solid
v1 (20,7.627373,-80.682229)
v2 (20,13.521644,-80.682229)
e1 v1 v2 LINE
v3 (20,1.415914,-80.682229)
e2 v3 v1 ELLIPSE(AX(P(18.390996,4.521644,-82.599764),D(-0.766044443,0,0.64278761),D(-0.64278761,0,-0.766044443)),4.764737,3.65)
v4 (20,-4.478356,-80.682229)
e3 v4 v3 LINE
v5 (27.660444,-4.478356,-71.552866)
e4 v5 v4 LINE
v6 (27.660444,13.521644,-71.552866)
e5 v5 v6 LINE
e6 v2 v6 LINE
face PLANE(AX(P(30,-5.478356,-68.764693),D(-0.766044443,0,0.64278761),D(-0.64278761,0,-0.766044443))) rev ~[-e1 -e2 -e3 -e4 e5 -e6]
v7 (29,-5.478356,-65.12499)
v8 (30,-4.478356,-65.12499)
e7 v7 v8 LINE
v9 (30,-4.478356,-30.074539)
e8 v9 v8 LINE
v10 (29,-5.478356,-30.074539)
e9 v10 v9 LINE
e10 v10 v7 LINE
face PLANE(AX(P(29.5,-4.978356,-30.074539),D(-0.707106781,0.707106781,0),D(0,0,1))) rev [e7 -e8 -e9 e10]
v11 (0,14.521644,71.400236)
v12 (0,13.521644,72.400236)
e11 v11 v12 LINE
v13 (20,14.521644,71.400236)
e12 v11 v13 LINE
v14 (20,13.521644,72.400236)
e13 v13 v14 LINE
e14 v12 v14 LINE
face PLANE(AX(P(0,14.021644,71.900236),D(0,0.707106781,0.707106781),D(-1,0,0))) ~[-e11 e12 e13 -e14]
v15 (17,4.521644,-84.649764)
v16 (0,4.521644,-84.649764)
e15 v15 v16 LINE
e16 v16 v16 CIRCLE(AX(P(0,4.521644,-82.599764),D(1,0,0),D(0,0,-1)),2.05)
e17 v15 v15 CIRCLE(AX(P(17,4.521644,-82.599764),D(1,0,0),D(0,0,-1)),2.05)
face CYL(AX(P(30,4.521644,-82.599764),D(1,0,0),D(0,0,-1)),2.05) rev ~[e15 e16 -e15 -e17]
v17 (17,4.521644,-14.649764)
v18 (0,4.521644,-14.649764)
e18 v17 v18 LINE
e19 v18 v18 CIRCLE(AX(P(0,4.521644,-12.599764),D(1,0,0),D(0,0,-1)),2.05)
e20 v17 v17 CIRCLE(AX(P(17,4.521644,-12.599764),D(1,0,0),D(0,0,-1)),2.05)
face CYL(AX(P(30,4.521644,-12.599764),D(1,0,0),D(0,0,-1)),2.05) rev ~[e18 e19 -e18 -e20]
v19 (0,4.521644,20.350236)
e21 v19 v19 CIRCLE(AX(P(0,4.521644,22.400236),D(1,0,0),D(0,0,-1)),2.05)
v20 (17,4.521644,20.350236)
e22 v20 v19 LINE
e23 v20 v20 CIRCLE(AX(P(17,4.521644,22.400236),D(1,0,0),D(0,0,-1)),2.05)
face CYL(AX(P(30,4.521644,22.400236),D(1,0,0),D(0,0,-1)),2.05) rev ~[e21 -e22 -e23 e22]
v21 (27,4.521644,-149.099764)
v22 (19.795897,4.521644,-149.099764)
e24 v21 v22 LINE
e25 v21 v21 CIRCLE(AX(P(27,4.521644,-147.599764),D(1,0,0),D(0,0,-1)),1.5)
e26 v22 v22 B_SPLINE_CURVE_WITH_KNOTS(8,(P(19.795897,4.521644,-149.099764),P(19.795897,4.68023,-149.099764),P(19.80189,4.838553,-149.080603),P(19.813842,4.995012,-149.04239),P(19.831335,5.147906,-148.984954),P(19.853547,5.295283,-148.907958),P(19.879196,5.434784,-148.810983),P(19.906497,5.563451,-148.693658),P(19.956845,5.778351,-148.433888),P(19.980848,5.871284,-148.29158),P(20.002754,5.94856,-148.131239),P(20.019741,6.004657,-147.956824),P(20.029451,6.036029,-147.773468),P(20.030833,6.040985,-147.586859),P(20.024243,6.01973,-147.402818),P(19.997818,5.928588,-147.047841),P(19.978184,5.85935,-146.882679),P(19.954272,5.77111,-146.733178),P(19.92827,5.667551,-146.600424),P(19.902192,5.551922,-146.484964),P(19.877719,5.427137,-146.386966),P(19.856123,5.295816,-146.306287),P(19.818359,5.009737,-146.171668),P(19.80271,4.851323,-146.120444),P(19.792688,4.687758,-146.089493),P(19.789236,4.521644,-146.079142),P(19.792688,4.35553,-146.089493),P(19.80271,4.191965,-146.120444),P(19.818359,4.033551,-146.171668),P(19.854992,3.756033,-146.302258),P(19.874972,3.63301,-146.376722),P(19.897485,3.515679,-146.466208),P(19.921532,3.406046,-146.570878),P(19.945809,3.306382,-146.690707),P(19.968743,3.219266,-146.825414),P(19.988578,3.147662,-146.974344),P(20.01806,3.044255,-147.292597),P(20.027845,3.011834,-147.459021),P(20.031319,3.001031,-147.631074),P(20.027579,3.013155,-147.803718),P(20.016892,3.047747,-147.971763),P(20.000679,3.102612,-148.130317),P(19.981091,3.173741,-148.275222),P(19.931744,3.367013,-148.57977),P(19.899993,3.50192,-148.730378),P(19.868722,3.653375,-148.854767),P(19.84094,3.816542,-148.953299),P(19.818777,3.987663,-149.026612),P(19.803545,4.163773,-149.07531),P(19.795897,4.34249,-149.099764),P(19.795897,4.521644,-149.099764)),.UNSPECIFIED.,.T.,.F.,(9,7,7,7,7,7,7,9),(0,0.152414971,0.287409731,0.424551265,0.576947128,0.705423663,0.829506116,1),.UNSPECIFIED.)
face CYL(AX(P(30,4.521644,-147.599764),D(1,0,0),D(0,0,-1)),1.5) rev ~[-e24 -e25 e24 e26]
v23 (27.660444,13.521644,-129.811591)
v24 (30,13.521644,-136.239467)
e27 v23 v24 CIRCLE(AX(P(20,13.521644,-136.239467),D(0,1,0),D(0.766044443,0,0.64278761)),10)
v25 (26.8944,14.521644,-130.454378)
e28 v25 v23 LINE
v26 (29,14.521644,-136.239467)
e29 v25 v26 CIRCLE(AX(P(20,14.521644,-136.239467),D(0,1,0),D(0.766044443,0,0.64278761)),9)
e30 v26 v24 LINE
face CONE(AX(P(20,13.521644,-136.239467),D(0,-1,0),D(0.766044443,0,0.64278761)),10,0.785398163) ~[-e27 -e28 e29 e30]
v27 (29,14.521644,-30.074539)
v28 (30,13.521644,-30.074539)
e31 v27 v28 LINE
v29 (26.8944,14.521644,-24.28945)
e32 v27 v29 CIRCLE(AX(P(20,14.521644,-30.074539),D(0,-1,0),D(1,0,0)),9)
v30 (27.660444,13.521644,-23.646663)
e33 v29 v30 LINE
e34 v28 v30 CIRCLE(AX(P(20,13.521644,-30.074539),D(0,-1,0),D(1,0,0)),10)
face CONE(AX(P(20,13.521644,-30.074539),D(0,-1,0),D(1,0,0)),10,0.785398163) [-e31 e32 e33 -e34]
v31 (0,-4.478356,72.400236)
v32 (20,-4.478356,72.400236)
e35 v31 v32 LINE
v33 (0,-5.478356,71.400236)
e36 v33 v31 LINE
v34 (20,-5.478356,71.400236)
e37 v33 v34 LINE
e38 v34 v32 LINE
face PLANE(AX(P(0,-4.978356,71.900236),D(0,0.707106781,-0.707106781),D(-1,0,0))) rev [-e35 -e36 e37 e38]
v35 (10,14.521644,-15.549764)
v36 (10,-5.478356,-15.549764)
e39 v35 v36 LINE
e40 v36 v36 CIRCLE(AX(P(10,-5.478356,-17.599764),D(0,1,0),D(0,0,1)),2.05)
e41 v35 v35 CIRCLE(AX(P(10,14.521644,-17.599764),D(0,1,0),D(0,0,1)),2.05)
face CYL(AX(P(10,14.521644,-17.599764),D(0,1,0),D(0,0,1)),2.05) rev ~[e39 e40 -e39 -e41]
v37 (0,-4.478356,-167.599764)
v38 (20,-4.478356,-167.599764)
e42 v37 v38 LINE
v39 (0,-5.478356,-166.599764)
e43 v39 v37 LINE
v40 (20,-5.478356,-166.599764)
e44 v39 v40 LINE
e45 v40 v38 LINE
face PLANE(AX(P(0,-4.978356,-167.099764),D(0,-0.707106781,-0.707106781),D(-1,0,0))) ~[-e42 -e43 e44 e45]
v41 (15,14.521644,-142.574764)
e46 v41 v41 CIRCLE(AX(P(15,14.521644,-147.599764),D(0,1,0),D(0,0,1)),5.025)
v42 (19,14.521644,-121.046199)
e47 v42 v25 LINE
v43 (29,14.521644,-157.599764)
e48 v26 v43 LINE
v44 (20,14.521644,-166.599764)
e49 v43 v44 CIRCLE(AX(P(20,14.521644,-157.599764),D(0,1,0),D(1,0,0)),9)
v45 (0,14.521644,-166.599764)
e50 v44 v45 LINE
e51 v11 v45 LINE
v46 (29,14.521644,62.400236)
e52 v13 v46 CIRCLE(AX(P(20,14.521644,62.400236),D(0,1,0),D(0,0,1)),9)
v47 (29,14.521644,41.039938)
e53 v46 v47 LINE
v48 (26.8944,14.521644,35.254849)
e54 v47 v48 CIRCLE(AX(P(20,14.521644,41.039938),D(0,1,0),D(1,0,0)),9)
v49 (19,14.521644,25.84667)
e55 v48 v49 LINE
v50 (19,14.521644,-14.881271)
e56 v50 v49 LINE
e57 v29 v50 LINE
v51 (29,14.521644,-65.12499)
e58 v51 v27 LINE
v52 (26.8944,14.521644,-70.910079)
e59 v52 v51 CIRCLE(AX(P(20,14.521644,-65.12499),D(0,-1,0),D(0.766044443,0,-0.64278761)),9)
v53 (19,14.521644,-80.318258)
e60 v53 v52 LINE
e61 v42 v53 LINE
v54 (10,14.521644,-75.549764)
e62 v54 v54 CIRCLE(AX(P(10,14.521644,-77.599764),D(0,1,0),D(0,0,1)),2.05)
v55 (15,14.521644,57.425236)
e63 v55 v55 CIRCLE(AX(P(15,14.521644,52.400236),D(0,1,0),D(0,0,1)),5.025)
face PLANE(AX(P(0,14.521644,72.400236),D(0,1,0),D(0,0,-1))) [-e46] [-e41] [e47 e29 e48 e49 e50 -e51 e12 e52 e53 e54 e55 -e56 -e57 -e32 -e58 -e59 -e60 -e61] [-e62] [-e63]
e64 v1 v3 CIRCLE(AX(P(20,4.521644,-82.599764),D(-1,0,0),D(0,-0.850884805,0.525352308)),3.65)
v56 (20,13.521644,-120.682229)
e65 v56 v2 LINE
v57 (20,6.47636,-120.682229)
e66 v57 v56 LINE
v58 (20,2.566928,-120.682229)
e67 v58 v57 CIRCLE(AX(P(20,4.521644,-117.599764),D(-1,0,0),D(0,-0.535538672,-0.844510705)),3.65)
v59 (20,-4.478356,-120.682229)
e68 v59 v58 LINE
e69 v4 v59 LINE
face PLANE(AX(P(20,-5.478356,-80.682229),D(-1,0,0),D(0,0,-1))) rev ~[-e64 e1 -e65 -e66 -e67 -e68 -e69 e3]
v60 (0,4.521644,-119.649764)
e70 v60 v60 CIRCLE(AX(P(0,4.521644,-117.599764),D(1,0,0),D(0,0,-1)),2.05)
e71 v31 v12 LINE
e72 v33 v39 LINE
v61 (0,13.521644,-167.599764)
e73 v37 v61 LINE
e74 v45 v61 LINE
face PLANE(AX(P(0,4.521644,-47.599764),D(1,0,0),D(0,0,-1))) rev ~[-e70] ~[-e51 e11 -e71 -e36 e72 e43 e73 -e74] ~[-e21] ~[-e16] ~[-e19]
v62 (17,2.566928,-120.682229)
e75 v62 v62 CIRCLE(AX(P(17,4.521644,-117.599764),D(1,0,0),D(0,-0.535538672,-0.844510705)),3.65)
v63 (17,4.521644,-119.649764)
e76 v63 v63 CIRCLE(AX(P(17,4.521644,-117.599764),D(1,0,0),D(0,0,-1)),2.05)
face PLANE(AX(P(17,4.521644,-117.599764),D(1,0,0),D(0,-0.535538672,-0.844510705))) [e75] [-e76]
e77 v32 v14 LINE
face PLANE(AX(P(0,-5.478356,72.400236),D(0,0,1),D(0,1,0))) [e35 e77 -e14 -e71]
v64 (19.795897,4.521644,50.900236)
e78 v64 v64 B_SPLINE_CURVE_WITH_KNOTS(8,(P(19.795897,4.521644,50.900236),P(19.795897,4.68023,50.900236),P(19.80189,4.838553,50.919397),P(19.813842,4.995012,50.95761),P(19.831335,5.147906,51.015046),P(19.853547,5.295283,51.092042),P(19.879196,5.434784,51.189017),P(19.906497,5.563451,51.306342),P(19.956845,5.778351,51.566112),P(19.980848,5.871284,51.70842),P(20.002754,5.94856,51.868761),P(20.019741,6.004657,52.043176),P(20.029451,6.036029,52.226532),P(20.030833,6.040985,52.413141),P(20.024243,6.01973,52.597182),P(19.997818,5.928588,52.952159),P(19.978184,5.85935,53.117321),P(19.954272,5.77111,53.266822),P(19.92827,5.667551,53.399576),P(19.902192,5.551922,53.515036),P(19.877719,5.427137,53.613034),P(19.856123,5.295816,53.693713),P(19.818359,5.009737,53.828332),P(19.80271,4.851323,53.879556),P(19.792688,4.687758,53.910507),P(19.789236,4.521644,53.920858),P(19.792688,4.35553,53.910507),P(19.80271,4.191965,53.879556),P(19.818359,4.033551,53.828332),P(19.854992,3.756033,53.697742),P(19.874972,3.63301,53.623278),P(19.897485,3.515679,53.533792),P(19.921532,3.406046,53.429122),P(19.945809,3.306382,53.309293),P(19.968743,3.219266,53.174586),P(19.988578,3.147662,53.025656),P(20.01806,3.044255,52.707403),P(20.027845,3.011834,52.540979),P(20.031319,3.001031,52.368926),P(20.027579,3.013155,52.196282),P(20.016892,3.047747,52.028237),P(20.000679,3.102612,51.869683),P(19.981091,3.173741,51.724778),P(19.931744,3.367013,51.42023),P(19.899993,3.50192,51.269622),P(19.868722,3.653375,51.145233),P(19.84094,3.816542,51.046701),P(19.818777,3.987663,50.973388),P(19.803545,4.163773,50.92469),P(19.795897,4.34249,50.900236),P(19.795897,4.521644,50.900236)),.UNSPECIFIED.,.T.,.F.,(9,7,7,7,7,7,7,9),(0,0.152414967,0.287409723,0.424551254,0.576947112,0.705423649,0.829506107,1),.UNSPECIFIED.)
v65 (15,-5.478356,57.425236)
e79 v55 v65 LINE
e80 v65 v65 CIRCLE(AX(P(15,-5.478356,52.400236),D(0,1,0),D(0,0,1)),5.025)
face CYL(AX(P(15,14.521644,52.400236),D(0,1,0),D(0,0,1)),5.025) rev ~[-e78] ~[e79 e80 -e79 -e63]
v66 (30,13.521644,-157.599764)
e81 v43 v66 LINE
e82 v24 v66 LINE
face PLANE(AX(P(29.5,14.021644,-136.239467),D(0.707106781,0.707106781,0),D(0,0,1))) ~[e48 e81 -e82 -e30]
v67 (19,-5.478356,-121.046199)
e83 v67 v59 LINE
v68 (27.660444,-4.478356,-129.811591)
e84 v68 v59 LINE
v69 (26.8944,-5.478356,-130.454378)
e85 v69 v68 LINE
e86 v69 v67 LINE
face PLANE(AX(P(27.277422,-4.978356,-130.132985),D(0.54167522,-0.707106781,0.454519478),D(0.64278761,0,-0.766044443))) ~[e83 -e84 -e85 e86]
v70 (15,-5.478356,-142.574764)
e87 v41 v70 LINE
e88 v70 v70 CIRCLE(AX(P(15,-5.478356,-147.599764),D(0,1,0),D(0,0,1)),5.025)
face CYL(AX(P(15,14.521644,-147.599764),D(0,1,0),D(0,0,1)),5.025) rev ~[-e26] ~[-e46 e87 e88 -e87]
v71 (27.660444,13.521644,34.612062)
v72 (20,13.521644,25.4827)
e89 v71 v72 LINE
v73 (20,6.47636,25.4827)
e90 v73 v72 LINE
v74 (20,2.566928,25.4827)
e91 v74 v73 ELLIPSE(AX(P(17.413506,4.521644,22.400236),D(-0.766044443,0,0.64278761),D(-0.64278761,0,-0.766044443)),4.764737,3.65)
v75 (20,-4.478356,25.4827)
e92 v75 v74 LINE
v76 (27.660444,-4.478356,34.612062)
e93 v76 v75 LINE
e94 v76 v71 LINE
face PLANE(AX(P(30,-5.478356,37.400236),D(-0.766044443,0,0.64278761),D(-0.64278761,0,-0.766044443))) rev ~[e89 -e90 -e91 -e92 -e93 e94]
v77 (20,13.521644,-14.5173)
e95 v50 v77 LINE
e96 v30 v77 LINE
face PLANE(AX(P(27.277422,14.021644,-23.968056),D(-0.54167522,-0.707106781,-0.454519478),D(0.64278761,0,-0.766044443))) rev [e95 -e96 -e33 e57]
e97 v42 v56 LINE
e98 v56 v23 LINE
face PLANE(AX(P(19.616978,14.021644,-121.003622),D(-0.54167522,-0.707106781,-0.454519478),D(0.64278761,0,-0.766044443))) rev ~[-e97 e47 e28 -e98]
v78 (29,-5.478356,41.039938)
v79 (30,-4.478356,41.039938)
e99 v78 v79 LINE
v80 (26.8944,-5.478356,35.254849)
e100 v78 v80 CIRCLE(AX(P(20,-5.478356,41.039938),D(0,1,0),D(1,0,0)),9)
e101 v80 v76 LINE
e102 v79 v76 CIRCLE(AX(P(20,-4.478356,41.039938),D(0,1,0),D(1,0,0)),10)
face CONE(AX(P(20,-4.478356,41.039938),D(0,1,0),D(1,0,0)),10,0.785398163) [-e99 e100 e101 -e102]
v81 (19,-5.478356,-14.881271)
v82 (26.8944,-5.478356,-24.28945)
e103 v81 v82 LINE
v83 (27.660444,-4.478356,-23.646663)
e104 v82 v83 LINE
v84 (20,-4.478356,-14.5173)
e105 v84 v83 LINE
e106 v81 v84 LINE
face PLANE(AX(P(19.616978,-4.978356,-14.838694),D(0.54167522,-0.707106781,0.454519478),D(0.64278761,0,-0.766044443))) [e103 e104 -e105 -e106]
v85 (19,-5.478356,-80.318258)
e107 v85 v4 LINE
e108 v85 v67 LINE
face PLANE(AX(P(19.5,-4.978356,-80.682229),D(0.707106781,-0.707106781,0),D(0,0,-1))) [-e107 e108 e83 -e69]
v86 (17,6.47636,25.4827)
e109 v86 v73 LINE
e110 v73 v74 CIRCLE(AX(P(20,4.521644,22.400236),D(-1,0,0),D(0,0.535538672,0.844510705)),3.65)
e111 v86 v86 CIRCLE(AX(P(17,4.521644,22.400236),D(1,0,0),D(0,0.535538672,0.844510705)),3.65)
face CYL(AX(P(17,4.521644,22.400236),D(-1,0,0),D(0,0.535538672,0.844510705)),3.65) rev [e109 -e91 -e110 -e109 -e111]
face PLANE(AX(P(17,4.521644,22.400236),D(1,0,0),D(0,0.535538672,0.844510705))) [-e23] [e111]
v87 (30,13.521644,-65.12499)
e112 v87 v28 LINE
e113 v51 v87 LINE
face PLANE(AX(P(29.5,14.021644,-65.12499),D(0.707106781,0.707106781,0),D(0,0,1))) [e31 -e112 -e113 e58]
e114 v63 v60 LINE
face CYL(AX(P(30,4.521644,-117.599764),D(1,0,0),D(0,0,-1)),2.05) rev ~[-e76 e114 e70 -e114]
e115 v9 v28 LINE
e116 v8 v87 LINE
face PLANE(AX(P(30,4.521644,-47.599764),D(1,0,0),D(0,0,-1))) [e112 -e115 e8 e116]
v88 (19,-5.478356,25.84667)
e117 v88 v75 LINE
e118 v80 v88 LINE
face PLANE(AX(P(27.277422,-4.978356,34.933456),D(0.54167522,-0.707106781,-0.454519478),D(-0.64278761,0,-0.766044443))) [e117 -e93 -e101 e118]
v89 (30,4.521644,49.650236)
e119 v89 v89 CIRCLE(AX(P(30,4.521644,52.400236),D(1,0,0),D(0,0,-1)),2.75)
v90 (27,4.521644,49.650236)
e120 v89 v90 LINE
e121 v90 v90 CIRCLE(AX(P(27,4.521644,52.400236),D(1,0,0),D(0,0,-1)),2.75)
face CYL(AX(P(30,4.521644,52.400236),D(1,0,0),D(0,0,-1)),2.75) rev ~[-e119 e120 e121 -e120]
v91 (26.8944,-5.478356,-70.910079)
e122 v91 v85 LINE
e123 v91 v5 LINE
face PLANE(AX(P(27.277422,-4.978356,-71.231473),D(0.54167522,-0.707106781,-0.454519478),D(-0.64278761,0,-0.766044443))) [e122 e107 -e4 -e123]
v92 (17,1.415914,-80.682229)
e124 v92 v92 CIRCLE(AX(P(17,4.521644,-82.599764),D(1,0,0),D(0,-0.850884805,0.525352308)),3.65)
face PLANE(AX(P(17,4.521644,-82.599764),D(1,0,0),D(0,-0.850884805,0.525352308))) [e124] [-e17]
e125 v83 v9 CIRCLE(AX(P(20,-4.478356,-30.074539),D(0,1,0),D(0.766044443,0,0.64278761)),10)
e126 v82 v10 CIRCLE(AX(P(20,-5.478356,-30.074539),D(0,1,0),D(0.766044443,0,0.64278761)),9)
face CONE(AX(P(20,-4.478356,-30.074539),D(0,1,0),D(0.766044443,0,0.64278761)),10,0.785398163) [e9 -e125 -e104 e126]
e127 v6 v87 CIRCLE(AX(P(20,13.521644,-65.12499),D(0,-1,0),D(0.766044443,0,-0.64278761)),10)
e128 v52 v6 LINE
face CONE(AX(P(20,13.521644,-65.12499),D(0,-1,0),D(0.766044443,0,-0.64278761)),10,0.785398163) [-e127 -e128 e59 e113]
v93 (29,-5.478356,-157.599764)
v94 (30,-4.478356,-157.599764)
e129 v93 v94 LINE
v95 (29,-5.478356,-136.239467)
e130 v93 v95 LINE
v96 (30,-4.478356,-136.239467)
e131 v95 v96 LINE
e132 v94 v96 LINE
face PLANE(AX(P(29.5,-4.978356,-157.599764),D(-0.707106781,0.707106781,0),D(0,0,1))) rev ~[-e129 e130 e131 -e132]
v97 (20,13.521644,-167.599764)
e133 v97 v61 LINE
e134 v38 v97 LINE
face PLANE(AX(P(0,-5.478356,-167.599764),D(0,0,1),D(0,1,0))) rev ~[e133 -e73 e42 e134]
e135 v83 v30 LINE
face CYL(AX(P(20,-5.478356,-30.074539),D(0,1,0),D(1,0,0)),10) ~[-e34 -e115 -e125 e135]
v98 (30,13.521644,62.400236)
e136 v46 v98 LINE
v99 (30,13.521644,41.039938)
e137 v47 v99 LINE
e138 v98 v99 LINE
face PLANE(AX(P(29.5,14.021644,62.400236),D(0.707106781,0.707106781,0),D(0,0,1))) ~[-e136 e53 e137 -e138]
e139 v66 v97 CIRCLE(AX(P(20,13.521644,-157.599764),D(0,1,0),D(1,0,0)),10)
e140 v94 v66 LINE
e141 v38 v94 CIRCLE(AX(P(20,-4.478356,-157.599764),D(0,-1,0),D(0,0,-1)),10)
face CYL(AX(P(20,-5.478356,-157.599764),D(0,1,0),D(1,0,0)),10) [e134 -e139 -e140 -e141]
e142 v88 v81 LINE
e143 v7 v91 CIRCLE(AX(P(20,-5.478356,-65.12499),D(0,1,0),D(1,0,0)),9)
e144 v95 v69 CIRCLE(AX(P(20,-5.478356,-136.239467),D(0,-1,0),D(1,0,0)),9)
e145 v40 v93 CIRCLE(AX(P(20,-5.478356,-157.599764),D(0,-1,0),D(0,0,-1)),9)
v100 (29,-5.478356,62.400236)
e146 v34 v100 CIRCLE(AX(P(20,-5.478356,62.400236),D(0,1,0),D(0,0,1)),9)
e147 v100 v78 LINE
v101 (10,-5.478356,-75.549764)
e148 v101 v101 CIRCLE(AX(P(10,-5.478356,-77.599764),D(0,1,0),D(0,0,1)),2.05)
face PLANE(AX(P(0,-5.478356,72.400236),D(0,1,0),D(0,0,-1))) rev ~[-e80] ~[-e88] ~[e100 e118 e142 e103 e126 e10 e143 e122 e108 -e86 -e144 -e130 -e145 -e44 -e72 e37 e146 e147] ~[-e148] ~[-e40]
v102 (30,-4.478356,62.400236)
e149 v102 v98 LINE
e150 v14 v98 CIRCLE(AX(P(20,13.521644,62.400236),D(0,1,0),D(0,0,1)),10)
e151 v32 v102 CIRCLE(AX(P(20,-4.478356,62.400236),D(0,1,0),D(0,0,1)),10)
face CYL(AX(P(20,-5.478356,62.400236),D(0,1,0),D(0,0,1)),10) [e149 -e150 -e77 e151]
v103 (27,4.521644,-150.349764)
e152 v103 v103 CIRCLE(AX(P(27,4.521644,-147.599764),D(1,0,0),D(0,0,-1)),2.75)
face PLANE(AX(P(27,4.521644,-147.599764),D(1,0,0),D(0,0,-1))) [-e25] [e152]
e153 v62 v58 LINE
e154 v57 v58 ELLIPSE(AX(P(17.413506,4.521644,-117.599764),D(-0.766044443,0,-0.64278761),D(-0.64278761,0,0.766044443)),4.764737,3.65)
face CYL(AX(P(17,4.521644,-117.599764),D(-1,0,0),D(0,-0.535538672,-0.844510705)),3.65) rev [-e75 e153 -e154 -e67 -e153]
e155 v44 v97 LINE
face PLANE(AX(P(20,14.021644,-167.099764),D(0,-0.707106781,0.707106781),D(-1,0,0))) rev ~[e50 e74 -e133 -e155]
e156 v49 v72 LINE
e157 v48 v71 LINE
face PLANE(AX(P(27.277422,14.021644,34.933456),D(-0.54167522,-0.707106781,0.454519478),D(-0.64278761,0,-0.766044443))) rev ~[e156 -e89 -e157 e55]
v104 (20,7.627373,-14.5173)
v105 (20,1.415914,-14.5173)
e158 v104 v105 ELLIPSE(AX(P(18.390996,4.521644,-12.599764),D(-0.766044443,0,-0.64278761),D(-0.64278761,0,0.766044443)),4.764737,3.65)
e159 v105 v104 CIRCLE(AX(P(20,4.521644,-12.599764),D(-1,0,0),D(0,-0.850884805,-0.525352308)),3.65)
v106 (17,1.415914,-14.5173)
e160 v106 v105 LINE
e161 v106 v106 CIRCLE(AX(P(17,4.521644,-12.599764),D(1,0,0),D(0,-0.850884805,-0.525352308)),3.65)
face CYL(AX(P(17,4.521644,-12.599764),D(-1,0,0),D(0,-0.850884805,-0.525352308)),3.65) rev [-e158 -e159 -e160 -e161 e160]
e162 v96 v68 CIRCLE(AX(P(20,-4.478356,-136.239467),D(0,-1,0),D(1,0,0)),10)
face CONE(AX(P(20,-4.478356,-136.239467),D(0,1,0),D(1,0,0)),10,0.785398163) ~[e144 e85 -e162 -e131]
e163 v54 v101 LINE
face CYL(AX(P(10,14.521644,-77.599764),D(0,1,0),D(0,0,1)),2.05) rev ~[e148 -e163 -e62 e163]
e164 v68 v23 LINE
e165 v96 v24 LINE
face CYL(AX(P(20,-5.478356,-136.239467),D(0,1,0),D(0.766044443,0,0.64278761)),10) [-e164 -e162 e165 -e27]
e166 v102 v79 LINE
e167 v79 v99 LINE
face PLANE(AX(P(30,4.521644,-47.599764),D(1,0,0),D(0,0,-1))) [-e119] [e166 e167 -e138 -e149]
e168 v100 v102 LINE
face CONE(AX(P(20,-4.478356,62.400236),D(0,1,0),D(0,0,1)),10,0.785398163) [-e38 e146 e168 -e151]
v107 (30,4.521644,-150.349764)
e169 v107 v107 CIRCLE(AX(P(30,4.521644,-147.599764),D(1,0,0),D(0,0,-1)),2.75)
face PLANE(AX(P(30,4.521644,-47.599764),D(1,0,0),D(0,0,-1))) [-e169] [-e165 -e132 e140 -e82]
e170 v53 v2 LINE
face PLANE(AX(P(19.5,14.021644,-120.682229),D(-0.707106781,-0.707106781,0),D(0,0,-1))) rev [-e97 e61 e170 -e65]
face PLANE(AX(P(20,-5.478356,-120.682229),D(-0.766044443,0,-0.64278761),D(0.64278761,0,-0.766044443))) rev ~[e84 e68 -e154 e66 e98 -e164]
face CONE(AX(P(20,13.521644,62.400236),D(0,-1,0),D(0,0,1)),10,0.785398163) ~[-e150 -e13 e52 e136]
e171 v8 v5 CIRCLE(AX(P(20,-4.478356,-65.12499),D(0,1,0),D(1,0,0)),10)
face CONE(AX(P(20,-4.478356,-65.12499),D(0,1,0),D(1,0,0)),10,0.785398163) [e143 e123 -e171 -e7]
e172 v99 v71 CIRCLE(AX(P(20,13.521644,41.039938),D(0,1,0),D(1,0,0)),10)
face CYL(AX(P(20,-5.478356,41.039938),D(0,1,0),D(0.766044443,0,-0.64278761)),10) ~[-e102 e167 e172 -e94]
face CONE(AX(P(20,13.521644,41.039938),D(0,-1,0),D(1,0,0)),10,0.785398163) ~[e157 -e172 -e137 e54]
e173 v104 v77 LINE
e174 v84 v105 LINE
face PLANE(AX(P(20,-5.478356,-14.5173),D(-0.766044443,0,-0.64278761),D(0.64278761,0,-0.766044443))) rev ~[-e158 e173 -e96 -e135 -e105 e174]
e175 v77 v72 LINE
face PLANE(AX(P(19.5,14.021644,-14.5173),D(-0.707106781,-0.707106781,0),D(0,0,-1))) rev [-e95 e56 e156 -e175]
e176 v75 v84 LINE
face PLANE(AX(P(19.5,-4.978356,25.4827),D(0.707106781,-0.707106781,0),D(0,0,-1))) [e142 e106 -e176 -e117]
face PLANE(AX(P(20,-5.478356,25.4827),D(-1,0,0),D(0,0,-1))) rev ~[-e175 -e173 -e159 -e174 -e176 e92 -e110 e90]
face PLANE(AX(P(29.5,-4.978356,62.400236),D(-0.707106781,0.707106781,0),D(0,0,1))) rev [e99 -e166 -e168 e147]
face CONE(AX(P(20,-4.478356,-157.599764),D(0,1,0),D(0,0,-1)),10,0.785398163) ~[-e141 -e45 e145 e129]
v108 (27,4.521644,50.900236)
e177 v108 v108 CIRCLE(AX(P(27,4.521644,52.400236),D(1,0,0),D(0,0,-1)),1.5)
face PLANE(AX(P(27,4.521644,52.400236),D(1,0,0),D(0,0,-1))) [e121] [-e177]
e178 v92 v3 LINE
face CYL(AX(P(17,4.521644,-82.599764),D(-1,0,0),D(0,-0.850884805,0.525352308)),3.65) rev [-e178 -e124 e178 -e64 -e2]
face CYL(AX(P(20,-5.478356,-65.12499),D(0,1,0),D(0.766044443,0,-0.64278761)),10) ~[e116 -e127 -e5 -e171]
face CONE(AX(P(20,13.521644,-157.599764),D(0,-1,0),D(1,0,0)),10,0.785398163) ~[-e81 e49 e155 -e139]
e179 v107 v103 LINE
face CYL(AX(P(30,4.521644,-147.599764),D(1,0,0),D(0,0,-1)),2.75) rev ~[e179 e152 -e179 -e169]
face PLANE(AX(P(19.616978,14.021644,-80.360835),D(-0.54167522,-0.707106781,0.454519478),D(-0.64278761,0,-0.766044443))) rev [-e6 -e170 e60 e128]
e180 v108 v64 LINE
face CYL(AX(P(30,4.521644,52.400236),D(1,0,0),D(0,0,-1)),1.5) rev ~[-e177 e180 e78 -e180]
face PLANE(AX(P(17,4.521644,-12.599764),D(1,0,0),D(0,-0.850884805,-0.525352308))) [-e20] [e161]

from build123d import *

# Parameters (mm, degrees)
SKETCH1_W               = 240
SKETCH1_H               = 20
BOSS_EXTRUDE1_DEPTH     = 30
SKETCH2_R               = 5.025
CUT_EXTRUDE1_DEPTH      = 20
SKETCH3_R               = 2.05
CUT_EXTRUDE2_DEPTH      = 30
CUT_EXTRUDE5_DEPTH      = 32.5
FILLET1_R               = 10
FILLET2_R               = 10
CHAMFER1_SIZE           = 1
CHAMFER2_SIZE           = 1
CUT_EXTRUDE9_DEPTH      = 3
CUT_EXTRUDE9_DEPTH_BACK = 3
SKETCH10_R              = 3.65
SKETCH11_R              = 1.5
CUT_EXTRUDE10_DEPTH     = 13
SKETCH12_R              = 2.75
SKETCH12_R_2            = 1.5
CUT_EXTRUDE11_DEPTH     = 3
SKETCH16_R              = 2.05
CUT_EXTRUDE12_DEPTH     = 40


with BuildPart() as part:
    # Sketch1 → Boss-Extrude1 (new body)
    with BuildSketch(Plane(origin=(0, 0, 0), x_dir=(0, 0, -1), z_dir=(1, 0, 0))):
        with Locations((47.599764496, 4.521643901)):
            Rectangle(SKETCH1_W, SKETCH1_H)
    extrude(amount=BOSS_EXTRUDE1_DEPTH)

    # Sketch2 → Cut-Extrude1 (cut)
    with BuildSketch(Plane(origin=(0, 14.521643901, 0), x_dir=(1, 0, 0), z_dir=(0, 1, 0))):
        with Locations(Location((15, 147.599764496, 0), (0, 0, 270))):
            Circle(SKETCH2_R)
        with Locations(Location((15, -52.400235504, 0), (0, 0, 270))):
            Circle(SKETCH2_R)
    extrude(amount=-CUT_EXTRUDE1_DEPTH, mode=Mode.SUBTRACT)

    # Sketch3 → Cut-Extrude2 (cut)
    with BuildSketch(Plane(origin=(30, 0, 0), x_dir=(0, 0, -1), z_dir=(1, 0, 0))):
        with Locations((117.599764496, 4.521643901)):
            Circle(SKETCH3_R)
        with Locations((-22.400235504, 4.521643901)):
            Circle(SKETCH3_R)
        with Locations((12.599764496, 4.521643901)):
            Circle(SKETCH3_R)
        with Locations((82.599764496, 4.521643901)):
            Circle(SKETCH3_R)
    extrude(amount=-CUT_EXTRUDE2_DEPTH, mode=Mode.SUBTRACT)

    # Sketch6 → Cut-Extrude5 (cut)
    with BuildSketch(Plane.XZ.offset(5.478356099)):
        Polygon((30, 37.400235504), (20, 25.482699578), (20, -14.517300422), (30, -26.434836348), align=None)
        Polygon((30, -68.764692644), (20, -80.68222857), (20, -120.68222857), (30, -132.599764496), align=None)
    extrude(amount=-CUT_EXTRUDE5_DEPTH, mode=Mode.SUBTRACT)

    # Fillet1
    fillet1_edges = [part.edges().sort_by_distance(p)[0] for p in [
        (30, 4.521643901, -26.434836348),
        (30, 4.521643901, -68.764692644),
    ]]
    fillet(fillet1_edges, radius=FILLET1_R)

    # Fillet2
    fillet2_edges = [part.edges().sort_by_distance(p)[0] for p in [
        (30, 4.521643901, 72.400235504),
        (30, 4.521643901, -167.599764496),
        (30, 4.521643901, 37.400235504),
        (30, 4.521643901, -132.599764496),
    ]]
    fillet(fillet2_edges, radius=FILLET2_R)

    # Chamfer1
    chamfer1_edges = [part.edges().sort_by_distance(p)[0] for p in [
        (30, -5.478356099, 51.720086675),
        (23.830222216, -5.478356099, 30.047380664),
        (10, -5.478356099, 72.400235504),
        (10, -5.478356099, -167.599764496),
        (30, -5.478356099, -146.919615667),
        (29.396926208, -5.478356099, 37.619736413),
        (29.396926208, -5.478356099, -132.819265405),
        (27.071067812, -5.478356099, -164.670832308),
        (27.071067812, -5.478356099, 69.471303316),
        (20, -5.478356099, 5.482699578),
        (23.830222216, -5.478356099, -19.081981508),
        (20, -5.478356099, -100.68222857),
        (23.830222216, -5.478356099, -125.246909656),
        (30, -5.478356099, -47.599764496),
        (23.830222216, -5.478356099, -76.117547484),
        (29.396926208, -5.478356099, -68.545191735),
        (29.396926208, -5.478356099, -26.654337257),
    ]]
    chamfer(chamfer1_edges, length=CHAMFER1_SIZE)

    # Chamfer2
    chamfer2_edges = [part.edges().sort_by_distance(p)[0] for p in [
        (29.396926208, 14.521643901, -26.654337257),
        (30, 14.521643901, 51.720086675),
        (10, 14.521643901, 72.400235504),
        (30, 14.521643901, -146.919615667),
        (10, 14.521643901, -167.599764496),
        (23.830222216, 14.521643901, 30.047380664),
        (29.396926208, 14.521643901, 37.619736413),
        (29.396926208, 14.521643901, -132.819265405),
        (27.071067812, 14.521643901, -164.670832308),
        (27.071067812, 14.521643901, 69.471303316),
        (23.830222216, 14.521643901, -19.081981508),
        (20, 14.521643901, 5.482699578),
        (23.830222216, 14.521643901, -125.246909656),
        (20, 14.521643901, -100.68222857),
        (30, 14.521643901, -47.599764496),
        (23.830222216, 14.521643901, -76.117547484),
        (29.396926208, 14.521643901, -68.545191735),
    ]]
    chamfer(chamfer2_edges, length=CHAMFER2_SIZE)

    # Sketch10 → Cut-Extrude9 (cut, two sides: drawn at the far end of the back side and taken through both)
    with BuildSketch(Plane(origin=(20, 0, 0), x_dir=(0, 0, -1), z_dir=(1, 0, 0)).offset(-CUT_EXTRUDE9_DEPTH_BACK)):
        with Locations(Location((12.599764496, 4.521643901, 0), (0, 0, 301.691963515))):
            Circle(SKETCH10_R)
        with Locations(Location((-22.400235504, 4.521643901, 0), (0, 0, 147.61954983))):
            Circle(SKETCH10_R)
        with Locations(Location((82.599764496, 4.521643901, 0), (0, 0, 238.308036485))):
            Circle(SKETCH10_R)
        with Locations(Location((117.599764496, 4.521643901, 0), (0, 0, 327.61954983))):
            Circle(SKETCH10_R)
    extrude(amount=CUT_EXTRUDE9_DEPTH + CUT_EXTRUDE9_DEPTH_BACK, mode=Mode.SUBTRACT)

    # Sketch11 → Cut-Extrude10 (cut)
    with BuildSketch(Plane(origin=(30, 0, 0), x_dir=(0, 0, -1), z_dir=(1, 0, 0))):
        with Locations((147.599764496, 4.521643901)):
            Circle(SKETCH11_R)
        with Locations((-52.400235504, 4.521643901)):
            Circle(SKETCH11_R)
    extrude(amount=-CUT_EXTRUDE10_DEPTH, mode=Mode.SUBTRACT)

    # Sketch12 → Cut-Extrude11 (cut)
    # profile 1 of 2: a face of its own
    with BuildSketch(Plane(origin=(30, 0, 0), x_dir=(0, 0, -1), z_dir=(1, 0, 0))):
        with Locations((-52.400235504, 4.521643901)):
            Circle(SKETCH12_R)
        with Locations((-52.400235504, 4.521643901)):
            Circle(SKETCH12_R_2, mode=Mode.SUBTRACT)
    # profile 2 of 2: a face of its own
    with BuildSketch(Plane(origin=(30, 0, 0), x_dir=(0, 0, -1), z_dir=(1, 0, 0))):
        with Locations((147.599764496, 4.521643901)):
            Circle(SKETCH12_R)
        with Locations((147.599764496, 4.521643901)):
            Circle(SKETCH12_R_2, mode=Mode.SUBTRACT)
    extrude(amount=-CUT_EXTRUDE11_DEPTH, mode=Mode.SUBTRACT)

    # Sketch16 → Cut-Extrude12 (cut)
    with BuildSketch(Plane(origin=(0, 14.521643901, 0), x_dir=(1, 0, 0), z_dir=(0, 1, 0))):
        with Locations(Location((10, 77.599764496, 0), (0, 0, 270))):
            Circle(SKETCH16_R)
        with Locations(Location((10, 17.599764496, 0), (0, 0, 270))):
            Circle(SKETCH16_R)
    extrude(amount=-CUT_EXTRUDE12_DEPTH, mode=Mode.SUBTRACT)


solid = part.part
